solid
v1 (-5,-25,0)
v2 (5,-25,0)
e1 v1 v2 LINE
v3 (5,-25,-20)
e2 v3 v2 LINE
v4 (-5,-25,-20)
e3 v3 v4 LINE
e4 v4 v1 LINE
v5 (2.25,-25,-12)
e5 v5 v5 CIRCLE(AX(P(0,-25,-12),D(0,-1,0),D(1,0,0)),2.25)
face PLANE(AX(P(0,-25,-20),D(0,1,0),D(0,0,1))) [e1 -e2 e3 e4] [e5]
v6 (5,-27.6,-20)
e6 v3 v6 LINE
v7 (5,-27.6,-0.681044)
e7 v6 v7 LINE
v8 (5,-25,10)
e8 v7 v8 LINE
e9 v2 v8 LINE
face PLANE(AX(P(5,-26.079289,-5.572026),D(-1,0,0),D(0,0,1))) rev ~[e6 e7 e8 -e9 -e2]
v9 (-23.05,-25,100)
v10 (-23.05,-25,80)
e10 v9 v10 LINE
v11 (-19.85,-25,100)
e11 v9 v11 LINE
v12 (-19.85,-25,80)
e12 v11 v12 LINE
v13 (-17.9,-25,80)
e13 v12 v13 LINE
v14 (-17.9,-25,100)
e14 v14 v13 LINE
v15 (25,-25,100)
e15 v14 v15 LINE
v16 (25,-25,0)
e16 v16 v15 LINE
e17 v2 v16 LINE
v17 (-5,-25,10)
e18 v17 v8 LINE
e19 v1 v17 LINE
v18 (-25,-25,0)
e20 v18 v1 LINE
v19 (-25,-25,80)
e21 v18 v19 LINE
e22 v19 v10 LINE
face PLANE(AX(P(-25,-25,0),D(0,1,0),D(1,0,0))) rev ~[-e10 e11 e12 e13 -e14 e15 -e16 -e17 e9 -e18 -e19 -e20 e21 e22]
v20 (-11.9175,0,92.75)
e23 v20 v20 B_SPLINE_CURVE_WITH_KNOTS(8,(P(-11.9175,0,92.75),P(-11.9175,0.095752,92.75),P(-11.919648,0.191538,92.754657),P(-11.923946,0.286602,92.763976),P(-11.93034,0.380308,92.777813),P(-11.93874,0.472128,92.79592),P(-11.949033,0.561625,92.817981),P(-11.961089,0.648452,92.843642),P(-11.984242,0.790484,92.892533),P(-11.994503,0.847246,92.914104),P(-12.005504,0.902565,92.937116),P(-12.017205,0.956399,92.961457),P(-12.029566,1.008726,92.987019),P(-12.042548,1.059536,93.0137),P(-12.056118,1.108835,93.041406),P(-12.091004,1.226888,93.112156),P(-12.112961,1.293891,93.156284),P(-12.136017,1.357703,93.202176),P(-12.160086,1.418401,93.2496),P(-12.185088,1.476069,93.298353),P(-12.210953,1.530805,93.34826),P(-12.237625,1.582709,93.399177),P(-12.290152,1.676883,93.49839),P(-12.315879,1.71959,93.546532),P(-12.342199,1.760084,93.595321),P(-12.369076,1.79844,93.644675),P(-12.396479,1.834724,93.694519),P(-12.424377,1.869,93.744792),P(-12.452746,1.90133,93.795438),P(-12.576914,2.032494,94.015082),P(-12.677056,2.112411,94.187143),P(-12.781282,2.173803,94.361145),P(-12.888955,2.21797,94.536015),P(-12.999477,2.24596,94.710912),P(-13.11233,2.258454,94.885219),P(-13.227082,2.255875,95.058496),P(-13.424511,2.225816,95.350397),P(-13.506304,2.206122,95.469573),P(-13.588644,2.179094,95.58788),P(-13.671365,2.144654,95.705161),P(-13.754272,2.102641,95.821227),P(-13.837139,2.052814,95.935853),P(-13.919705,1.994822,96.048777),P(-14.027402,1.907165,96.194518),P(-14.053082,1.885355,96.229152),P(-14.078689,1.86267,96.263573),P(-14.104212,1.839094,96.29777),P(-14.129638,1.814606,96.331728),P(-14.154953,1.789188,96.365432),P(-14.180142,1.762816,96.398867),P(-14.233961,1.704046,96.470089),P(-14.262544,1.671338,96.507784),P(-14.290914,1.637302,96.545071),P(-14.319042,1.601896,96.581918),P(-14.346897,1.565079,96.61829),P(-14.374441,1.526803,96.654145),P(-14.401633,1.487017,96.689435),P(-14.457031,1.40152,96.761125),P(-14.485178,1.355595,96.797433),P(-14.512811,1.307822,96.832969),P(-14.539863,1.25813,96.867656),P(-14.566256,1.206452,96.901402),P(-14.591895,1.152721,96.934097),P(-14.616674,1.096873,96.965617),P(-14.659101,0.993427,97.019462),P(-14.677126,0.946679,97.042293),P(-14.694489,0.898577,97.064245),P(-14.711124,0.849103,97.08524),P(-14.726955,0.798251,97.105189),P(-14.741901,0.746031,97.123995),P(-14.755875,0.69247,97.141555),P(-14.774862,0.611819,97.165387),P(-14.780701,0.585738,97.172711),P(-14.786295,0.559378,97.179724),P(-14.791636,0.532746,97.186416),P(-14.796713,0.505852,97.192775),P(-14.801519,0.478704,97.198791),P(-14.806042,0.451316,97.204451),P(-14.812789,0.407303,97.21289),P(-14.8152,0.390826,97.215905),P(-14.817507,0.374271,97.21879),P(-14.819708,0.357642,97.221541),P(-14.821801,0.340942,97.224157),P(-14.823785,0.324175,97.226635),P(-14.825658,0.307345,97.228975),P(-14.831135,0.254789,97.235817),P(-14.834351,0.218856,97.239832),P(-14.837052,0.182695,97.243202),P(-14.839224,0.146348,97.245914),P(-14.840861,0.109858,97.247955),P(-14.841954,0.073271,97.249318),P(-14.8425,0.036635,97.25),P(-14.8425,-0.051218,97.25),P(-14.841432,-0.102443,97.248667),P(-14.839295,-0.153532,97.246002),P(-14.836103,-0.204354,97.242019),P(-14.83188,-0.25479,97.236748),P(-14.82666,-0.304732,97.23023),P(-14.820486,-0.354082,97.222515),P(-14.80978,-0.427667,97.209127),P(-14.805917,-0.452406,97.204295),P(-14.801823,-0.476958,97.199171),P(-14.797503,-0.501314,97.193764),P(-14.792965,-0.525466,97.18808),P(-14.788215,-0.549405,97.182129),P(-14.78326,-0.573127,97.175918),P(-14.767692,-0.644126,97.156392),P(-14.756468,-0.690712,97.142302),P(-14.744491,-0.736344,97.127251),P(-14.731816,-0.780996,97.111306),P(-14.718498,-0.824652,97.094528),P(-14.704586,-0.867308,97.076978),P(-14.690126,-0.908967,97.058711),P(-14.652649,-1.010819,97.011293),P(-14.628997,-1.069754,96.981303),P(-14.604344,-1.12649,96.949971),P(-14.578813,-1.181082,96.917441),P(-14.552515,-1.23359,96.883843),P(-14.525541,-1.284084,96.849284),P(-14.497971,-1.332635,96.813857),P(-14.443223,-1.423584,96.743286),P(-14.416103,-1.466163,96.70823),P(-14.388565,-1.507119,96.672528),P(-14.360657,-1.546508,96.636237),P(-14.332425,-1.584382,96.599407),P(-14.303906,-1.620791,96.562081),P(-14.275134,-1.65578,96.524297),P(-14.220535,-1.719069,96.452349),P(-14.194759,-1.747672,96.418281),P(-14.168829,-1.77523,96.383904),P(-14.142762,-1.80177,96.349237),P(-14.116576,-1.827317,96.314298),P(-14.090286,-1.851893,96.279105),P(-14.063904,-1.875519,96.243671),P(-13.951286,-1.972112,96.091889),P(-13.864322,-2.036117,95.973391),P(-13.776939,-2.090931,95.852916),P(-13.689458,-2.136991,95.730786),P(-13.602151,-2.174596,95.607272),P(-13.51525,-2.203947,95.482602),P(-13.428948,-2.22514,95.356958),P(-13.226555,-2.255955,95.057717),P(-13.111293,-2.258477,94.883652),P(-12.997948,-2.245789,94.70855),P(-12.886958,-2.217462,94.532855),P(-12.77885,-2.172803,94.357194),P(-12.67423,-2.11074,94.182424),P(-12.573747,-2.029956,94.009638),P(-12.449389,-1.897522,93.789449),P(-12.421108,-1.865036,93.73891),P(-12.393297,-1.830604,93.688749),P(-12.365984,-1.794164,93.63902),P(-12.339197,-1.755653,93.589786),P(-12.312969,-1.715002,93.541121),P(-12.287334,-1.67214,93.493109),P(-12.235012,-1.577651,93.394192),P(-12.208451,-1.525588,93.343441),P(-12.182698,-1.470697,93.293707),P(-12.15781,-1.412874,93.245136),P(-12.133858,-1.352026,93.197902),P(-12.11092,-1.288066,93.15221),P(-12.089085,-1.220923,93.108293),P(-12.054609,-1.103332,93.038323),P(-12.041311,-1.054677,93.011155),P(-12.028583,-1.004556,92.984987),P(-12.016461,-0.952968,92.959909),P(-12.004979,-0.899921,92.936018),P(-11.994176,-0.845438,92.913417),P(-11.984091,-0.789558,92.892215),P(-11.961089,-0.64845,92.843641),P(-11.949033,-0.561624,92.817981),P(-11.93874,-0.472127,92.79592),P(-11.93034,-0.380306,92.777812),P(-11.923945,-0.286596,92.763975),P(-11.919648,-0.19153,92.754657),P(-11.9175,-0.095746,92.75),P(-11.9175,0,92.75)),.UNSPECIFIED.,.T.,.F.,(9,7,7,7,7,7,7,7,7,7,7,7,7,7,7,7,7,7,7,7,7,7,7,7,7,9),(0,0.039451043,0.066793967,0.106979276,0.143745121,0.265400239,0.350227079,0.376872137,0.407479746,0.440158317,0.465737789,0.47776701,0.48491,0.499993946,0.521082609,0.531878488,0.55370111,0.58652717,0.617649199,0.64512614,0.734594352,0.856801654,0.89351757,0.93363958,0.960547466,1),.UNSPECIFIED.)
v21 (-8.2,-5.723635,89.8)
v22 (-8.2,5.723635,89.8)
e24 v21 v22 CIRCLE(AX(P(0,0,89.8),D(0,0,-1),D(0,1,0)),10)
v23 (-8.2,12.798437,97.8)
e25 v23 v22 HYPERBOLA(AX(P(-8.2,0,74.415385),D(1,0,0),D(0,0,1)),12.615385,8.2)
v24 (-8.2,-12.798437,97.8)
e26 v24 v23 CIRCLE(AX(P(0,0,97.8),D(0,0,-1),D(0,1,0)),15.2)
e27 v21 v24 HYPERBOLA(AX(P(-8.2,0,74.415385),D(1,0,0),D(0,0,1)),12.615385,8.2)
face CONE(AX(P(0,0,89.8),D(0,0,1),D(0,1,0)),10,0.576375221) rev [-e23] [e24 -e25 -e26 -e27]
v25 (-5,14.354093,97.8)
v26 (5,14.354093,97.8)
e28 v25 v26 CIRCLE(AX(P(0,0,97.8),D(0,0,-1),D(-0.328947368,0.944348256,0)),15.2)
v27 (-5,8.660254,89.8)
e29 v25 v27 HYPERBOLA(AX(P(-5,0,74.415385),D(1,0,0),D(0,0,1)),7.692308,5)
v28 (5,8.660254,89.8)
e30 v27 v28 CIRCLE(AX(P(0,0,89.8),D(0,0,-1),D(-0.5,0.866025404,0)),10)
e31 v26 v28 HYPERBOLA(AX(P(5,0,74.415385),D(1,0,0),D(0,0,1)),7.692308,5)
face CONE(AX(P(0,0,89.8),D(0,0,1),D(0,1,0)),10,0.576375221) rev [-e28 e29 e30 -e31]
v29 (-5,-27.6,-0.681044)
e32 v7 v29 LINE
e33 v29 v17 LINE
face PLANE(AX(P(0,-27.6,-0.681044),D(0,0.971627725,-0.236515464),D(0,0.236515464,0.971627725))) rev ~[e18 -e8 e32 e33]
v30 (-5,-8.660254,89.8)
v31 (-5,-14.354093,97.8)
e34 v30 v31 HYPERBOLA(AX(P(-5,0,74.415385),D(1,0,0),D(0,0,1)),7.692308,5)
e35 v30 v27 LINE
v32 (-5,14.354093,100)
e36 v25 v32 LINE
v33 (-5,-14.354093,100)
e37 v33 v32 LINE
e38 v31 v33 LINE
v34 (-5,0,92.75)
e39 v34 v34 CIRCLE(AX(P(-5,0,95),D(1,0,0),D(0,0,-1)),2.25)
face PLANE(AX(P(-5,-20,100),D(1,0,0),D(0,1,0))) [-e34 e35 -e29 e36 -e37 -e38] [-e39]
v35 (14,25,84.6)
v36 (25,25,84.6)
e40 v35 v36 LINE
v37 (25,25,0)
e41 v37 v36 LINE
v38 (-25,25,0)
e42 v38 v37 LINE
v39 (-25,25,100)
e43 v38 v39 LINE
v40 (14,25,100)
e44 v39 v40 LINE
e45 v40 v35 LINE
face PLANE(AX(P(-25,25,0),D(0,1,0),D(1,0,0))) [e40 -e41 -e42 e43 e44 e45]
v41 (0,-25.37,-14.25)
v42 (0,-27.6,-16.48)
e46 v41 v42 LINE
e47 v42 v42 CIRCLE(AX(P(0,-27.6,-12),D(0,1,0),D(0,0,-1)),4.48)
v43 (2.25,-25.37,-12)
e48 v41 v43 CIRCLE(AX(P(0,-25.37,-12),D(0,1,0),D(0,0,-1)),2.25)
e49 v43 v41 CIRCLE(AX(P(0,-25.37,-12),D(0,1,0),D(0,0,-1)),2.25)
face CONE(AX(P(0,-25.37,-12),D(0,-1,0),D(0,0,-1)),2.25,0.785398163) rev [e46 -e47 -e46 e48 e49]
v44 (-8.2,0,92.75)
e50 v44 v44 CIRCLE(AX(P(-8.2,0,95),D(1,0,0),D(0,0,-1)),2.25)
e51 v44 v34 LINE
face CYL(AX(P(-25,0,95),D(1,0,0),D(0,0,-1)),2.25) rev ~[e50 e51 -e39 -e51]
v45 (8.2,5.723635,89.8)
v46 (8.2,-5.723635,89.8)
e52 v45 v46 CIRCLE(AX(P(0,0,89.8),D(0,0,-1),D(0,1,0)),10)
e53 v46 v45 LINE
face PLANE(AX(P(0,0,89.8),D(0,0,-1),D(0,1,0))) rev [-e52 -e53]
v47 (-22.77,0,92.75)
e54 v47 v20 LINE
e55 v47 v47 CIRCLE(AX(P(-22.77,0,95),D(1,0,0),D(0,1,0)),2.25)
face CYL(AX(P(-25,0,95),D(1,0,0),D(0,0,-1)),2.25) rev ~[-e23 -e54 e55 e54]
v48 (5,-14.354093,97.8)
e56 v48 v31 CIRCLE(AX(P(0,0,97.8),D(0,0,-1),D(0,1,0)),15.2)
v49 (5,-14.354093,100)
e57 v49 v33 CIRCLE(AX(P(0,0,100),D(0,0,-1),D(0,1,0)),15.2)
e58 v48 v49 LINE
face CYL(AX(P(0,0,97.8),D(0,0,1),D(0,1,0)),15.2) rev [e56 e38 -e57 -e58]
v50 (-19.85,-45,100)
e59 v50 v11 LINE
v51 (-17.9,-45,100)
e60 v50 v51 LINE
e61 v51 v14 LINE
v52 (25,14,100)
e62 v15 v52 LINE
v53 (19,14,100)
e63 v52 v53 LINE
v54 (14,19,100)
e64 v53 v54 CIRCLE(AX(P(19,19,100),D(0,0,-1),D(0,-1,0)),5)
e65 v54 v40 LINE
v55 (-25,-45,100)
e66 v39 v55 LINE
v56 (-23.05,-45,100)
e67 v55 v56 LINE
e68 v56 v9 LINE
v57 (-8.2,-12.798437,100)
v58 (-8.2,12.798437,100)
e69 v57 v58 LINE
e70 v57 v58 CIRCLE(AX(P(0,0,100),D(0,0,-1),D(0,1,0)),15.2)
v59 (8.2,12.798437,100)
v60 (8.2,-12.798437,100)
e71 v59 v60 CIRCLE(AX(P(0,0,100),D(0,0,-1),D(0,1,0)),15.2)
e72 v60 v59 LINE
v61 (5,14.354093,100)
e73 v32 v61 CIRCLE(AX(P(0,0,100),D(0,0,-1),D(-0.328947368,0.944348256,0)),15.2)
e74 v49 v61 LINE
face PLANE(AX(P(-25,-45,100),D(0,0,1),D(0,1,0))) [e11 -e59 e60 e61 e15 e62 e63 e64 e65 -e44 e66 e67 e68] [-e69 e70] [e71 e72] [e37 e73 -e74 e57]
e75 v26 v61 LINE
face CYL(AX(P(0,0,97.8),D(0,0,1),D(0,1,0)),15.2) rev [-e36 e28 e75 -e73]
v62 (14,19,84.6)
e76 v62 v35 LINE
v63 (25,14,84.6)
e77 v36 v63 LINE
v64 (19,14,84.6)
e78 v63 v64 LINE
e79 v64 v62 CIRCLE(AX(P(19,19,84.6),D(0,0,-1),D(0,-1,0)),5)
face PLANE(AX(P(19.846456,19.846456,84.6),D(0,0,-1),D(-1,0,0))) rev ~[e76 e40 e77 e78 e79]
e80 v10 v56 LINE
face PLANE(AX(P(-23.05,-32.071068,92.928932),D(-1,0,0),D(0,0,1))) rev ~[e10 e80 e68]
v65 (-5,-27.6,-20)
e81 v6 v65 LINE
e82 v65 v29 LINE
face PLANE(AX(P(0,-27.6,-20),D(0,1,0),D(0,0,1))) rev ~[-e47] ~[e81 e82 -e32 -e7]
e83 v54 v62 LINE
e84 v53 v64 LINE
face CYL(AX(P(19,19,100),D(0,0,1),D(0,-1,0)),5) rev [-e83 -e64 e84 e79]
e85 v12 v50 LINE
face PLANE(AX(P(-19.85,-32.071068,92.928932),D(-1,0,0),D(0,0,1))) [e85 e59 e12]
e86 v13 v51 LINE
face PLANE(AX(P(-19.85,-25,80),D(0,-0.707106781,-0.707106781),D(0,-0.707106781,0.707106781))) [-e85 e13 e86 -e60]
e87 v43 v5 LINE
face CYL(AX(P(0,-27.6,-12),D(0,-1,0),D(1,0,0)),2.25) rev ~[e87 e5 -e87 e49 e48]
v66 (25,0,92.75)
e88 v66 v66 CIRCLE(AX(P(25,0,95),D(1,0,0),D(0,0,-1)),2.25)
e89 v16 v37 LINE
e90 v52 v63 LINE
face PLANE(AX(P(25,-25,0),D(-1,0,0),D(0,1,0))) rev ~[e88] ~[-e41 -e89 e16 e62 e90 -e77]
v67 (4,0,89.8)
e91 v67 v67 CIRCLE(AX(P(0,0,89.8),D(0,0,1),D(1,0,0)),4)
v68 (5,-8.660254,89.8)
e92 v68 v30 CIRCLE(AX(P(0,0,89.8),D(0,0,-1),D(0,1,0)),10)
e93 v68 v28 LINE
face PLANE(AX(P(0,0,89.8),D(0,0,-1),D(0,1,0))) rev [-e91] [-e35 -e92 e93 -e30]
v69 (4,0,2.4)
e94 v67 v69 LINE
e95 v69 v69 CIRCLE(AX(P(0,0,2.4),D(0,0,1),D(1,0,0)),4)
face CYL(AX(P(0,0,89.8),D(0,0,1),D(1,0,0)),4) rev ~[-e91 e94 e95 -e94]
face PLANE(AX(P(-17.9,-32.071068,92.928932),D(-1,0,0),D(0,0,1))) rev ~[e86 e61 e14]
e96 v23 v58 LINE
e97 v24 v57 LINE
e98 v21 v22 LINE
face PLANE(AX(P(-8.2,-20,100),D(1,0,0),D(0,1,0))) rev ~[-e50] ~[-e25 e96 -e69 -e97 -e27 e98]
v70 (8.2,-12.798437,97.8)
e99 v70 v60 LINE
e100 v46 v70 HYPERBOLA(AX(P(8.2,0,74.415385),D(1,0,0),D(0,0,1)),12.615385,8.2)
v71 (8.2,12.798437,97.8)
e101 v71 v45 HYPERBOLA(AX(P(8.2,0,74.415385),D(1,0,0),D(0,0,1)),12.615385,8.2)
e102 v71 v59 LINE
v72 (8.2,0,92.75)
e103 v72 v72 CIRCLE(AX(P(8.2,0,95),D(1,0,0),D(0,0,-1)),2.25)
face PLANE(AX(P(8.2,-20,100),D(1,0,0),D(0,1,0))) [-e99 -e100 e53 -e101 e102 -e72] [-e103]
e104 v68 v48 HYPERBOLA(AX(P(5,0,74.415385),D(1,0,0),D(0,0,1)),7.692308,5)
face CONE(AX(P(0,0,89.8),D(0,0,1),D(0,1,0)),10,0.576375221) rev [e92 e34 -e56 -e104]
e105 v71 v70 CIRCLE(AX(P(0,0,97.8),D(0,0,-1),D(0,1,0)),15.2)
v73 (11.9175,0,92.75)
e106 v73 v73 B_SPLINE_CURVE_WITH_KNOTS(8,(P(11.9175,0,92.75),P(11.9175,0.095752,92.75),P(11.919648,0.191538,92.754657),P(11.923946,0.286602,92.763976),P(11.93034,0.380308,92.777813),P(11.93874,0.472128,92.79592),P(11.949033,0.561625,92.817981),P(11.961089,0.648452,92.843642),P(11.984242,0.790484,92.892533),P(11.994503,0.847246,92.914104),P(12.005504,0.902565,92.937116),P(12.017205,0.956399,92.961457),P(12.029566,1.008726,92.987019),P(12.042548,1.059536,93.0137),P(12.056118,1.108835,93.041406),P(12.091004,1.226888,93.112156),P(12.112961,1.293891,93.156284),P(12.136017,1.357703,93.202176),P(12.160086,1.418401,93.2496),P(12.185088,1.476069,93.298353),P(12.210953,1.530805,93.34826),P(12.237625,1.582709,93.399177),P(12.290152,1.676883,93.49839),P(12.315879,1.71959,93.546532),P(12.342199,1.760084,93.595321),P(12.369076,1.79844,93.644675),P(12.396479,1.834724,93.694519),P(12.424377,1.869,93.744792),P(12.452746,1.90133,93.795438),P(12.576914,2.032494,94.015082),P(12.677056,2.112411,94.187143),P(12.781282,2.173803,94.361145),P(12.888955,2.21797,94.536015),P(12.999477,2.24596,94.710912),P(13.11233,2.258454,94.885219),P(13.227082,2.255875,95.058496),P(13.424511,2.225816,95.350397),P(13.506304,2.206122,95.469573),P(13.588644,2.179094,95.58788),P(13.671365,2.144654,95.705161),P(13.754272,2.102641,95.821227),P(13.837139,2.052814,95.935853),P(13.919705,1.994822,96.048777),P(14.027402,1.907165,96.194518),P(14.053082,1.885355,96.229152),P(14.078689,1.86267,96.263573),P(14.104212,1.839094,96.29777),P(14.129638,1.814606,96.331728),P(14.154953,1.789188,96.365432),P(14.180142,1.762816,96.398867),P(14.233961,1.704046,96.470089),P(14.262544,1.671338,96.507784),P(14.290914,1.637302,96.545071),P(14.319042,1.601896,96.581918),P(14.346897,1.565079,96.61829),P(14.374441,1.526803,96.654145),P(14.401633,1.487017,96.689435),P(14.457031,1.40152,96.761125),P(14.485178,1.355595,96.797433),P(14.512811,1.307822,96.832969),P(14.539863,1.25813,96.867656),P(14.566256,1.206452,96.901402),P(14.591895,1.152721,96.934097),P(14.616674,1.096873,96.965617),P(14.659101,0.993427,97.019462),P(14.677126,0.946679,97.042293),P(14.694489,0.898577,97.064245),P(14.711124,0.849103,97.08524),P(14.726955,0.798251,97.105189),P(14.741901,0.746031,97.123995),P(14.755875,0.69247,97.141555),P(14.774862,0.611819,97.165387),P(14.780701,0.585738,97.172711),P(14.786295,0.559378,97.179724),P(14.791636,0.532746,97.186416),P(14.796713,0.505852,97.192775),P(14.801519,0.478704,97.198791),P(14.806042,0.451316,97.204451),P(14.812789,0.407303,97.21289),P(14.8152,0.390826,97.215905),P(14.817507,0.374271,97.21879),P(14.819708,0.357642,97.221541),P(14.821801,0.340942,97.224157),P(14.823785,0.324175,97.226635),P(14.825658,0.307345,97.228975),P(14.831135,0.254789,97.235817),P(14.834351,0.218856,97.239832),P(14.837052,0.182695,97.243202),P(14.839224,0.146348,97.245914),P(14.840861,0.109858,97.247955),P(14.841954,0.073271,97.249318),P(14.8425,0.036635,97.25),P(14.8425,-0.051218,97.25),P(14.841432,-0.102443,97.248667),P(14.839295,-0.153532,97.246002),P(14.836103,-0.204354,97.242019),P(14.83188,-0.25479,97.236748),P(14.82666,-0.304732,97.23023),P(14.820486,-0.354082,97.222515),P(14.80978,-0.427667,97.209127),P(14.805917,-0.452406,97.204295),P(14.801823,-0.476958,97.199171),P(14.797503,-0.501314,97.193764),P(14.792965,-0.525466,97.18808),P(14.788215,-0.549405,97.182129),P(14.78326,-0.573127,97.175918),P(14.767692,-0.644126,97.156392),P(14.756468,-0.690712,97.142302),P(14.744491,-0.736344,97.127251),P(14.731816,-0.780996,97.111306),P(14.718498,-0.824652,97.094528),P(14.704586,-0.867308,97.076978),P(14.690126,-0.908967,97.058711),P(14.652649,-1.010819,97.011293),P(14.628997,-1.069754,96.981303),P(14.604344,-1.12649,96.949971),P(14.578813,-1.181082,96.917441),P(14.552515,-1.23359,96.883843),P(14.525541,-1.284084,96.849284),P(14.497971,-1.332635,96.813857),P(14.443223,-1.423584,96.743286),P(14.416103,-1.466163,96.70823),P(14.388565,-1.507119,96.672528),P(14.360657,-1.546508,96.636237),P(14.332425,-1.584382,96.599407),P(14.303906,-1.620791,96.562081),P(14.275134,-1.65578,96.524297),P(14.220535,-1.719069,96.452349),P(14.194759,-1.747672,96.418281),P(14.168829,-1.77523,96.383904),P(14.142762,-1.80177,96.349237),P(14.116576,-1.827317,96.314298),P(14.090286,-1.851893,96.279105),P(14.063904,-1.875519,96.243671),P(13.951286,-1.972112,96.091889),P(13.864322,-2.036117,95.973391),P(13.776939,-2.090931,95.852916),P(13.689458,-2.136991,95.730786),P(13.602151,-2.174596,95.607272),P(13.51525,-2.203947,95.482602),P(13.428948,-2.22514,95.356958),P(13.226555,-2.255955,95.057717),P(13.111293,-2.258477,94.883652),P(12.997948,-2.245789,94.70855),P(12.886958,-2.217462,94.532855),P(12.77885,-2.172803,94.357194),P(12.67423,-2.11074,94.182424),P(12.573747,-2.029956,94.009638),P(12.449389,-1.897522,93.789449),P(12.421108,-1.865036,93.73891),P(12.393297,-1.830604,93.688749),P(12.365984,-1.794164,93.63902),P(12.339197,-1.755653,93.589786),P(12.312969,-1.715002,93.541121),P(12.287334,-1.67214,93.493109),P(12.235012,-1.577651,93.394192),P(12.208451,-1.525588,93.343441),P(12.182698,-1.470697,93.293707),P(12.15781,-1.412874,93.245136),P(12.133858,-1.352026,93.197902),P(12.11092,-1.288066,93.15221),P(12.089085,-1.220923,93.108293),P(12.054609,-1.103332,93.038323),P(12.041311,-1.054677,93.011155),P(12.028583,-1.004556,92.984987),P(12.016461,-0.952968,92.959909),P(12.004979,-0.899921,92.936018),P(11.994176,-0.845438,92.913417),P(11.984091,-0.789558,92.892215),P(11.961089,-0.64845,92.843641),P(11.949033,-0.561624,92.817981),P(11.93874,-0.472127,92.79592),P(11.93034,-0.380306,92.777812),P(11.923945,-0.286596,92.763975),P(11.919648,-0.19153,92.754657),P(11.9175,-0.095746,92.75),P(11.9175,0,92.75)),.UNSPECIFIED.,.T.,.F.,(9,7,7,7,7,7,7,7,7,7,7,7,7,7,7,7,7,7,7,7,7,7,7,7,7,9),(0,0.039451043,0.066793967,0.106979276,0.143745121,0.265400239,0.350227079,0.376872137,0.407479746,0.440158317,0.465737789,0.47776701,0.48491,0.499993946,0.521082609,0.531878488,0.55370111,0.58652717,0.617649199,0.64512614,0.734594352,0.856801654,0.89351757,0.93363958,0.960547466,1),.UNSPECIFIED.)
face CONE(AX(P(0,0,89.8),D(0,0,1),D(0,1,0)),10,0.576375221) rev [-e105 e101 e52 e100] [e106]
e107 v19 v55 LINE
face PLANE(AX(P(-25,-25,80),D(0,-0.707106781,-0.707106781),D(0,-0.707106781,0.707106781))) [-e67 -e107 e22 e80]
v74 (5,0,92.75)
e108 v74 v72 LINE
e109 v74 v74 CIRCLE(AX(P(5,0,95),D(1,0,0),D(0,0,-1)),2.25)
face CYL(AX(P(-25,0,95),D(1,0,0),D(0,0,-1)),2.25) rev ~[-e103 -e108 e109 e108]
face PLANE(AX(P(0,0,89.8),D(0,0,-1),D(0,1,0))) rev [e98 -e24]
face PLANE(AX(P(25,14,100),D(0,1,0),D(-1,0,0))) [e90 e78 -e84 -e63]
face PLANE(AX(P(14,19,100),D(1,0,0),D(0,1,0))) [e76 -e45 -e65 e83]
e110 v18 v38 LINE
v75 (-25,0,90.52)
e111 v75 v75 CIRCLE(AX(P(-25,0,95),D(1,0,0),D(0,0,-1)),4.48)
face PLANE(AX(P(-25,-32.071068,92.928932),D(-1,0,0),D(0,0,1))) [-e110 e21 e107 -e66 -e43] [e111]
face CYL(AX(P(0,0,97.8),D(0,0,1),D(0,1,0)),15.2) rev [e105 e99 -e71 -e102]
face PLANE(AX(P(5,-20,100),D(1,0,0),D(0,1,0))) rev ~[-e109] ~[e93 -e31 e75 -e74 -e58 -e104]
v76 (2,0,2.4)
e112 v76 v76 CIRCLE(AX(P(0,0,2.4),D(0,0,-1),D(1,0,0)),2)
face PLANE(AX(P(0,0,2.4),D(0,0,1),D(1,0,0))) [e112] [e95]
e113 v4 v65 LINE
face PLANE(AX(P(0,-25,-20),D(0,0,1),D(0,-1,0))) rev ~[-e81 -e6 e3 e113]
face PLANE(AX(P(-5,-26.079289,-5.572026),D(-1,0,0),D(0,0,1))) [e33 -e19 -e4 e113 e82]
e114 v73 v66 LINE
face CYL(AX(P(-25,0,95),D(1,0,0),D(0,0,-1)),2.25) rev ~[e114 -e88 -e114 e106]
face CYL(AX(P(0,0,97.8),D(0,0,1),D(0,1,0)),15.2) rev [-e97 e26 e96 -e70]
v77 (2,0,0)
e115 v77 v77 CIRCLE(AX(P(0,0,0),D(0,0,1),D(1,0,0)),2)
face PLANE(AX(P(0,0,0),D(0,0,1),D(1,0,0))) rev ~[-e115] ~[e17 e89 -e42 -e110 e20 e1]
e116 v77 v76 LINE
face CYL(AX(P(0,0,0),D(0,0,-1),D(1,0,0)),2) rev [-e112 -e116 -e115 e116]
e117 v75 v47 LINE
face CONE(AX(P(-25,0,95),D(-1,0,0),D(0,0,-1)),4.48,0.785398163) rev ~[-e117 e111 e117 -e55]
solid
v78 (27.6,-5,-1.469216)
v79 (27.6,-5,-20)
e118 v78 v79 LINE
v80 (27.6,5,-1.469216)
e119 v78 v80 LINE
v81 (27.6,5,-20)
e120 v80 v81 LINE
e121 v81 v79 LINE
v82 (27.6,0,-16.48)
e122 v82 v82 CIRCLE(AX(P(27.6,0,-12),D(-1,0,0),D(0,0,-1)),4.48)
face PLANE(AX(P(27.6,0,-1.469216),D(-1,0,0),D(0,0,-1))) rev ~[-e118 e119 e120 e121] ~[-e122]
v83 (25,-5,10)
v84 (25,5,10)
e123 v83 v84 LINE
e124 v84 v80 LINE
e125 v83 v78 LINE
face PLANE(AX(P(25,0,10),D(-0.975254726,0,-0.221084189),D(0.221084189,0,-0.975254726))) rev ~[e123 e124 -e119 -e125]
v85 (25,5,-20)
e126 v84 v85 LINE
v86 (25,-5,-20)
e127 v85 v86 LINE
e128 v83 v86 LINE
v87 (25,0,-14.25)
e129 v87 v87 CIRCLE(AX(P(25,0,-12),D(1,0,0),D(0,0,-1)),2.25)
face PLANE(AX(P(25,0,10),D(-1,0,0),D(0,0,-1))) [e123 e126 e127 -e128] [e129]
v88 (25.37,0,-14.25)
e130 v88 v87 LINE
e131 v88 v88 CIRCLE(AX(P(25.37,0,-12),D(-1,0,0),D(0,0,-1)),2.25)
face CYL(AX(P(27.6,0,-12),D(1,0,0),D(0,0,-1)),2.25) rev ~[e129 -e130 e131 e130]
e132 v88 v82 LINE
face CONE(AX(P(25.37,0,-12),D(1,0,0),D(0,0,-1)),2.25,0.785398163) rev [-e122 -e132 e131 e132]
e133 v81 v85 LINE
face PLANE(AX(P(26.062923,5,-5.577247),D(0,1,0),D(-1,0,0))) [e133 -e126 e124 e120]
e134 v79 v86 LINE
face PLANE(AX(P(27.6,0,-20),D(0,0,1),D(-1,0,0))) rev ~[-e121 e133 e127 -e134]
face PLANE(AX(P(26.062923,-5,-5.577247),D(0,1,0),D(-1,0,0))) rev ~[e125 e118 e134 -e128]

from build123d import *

# Parameters (mm, degrees)
CROQUIS1_W                                           = 50
CROQUIS1_H                                           = 50
CROQUIS1_R                                           = 2
SALIENTE_EXTRUIR2_DEPTH                              = 100
CROQUIS4_W                                           = 3.2
CROQUIS4_H                                           = 40
SALIENTE_EXTRUIR5_DEPTH                              = 10.2
CROQUIS8_R                                           = 4
CORTAR_EXTRUIR3_DEPTH                                = 87.4
CORTAR_EXTRUIR2_START                                = -50
CROQUIS7_R                                           = 2
CORTAR_EXTRUIR2_DEPTH                                = 50
REFRENTADO_PARA_TORNILLO_TAP_N_CON_CABEZ_D           = 4.5
REFRENTADO_PARA_TORNILLO_TAP_N_CON_CABEZ_CSINK_D     = 8.96
REFRENTADO_PARA_TORNILLO_TAP_N_CON_CABEZ_CSINK_ANGLE = 90
SALIENTE_EXTRUIR6_DEPTH                              = 1.95
SALIENTE_EXTRUIR7_START                              = -5.15
SALIENTE_EXTRUIR7_DEPTH                              = 1.95
CORTAR_EXTRUIR4_DEPTH                                = 15.4
SALIENTE_EXTRUIR8_START                              = -25
SALIENTE_EXTRUIR8_DEPTH                              = 5
SALIENTE_EXTRUIR8_DEPTH_BACK                         = 5
CROQUIS15_R                                          = 2.25
CORTAR_EXTRUIR5_DEPTH                                = 2.6
SALIENTE_EXTRUIR9_START                              = -25
SALIENTE_EXTRUIR9_DEPTH                              = 5
SALIENTE_EXTRUIR9_DEPTH_BACK                         = 5
CROQUIS19_R                                          = 2.25
CORTAR_EXTRUIR6_DEPTH                                = 2.6


with BuildPart() as part:
    # Croquis1 → Saliente-Extruir2 (new body)
    with BuildSketch(Plane.XY):
        Rectangle(CROQUIS1_W, CROQUIS1_H)
        Circle(CROQUIS1_R, mode=Mode.SUBTRACT)
    extrude(amount=SALIENTE_EXTRUIR2_DEPTH)

    # Croquis2 → Cortar-Revolución1 (revolve, cut)
    with BuildSketch(Plane(origin=(0, 0, 0), x_dir=(0, 0, -1), z_dir=(1, 0, 0))):
        Polygon((-100, 15.2), (-100, 0), (-89.8, 0), (-89.8, 10), (-97.8, 15.2), align=None)
    revolve(axis=Axis((0, 0, 100), (0, 0, -1)), mode=Mode.SUBTRACT)

    # Croquis4 → Saliente-Extruir5 (add)
    with BuildSketch(Plane.XY.offset(100)):
        with Locations((-6.6, 0)):
            Rectangle(CROQUIS4_W, CROQUIS4_H)
        with Locations((6.6, 0)):
            Rectangle(CROQUIS4_W, CROQUIS4_H)
    extrude(amount=-SALIENTE_EXTRUIR5_DEPTH)

    # Croquis8 → Cortar-Extruir3 (cut)
    with BuildSketch(Plane.XY.offset(89.8)):
        Circle(CROQUIS8_R)
    extrude(amount=-CORTAR_EXTRUIR3_DEPTH, mode=Mode.SUBTRACT)

    # Croquis7 → Cortar-Extruir2 (cut)
    with BuildSketch(Plane.ZY.offset(25).offset(CORTAR_EXTRUIR2_START)):
        with Locations((95, 0)):
            Circle(CROQUIS7_R)
    extrude(amount=CORTAR_EXTRUIR2_DEPTH, mode=Mode.SUBTRACT)

    # Refrentado para tornillo tap_n con cabez (through all)
    with Locations(Plane.ZY.offset(25)):
        with Locations((95, 0)):
            CounterSinkHole(REFRENTADO_PARA_TORNILLO_TAP_N_CON_CABEZ_D / 2, REFRENTADO_PARA_TORNILLO_TAP_N_CON_CABEZ_CSINK_D / 2, counter_sink_angle=REFRENTADO_PARA_TORNILLO_TAP_N_CON_CABEZ_CSINK_ANGLE)

    # Croquis12 → Saliente-Extruir6 (add)
    with BuildSketch(Plane.ZY.offset(25)):
        Polygon((100, -25), (80, -25), (100, -45), align=None)
    extrude(amount=-SALIENTE_EXTRUIR6_DEPTH)

    # Croquis12<2> → Saliente-Extruir7 (add)
    with BuildSketch(Plane.ZY.offset(25).offset(SALIENTE_EXTRUIR7_START)):
        Polygon((100, -25), (80, -25), (100, -45), align=None)
    extrude(amount=-SALIENTE_EXTRUIR7_DEPTH)

    # Croquis13 → Cortar-Extruir4 (cut)
    with BuildSketch(Plane.XY.offset(100)):
        with BuildLine():
            Line((25, 25), (25, 14))
            Line((25, 14), (19, 14))
            ThreePointArc((19, 14), (15.464466094, 15.464466094), (14, 19))
            Line((14, 19), (14, 25))
            Line((14, 25), (25, 25))
        make_face()
    extrude(amount=-CORTAR_EXTRUIR4_DEPTH, mode=Mode.SUBTRACT)

    # Croquis18 → Saliente-Extruir9 (add, two sides)
    with BuildSketch(Plane(origin=(25, 0, 0), x_dir=(0, 0, -1), z_dir=(1, 0, 0)).offset(SALIENTE_EXTRUIR9_START)) as saliente_extruir9_sk:
        Polygon((0, -25), (20, -25), (20, -27.6), (0.681044045, -27.6), (-10, -25), align=None)
    extrude(amount=SALIENTE_EXTRUIR9_DEPTH)
    extrude(saliente_extruir9_sk.sketch, amount=-SALIENTE_EXTRUIR9_DEPTH_BACK)

    # Croquis19 → Cortar-Extruir6 (cut)
    with BuildSketch(Plane.XZ.offset(27.6)):
        with Locations((0, -12)):
            Circle(CROQUIS19_R)
    extrude(amount=-CORTAR_EXTRUIR6_DEPTH, mode=Mode.SUBTRACT)

    # Croquis21 → Refrentado para tornillo tap_n con c 3 (revolve, cut)
    with BuildSketch(Plane(origin=(0, -27.6, -12), x_dir=(0, 0, -1), z_dir=(1, 0, 0))):
        Polygon((0, 0), (0, 52.6), (2.25, 52.6), (2.25, 2.23), (4.48, 0), align=None)
    revolve(axis=Axis((0, -33.95, -12), (0, 1, 0)), mode=Mode.SUBTRACT)


with BuildPart() as body_2:
    # Croquis14 → Saliente-Extruir8 (new body, two sides)
    with BuildSketch(Plane.XZ.offset(25).offset(SALIENTE_EXTRUIR8_START)) as saliente_extruir8_sk:
        Polygon((25, 0), (25, 10), (27.6, -1.469215888), (27.6, -20), (25, -20), align=None)
    extrude(amount=SALIENTE_EXTRUIR8_DEPTH)
    extrude(saliente_extruir8_sk.sketch, amount=-SALIENTE_EXTRUIR8_DEPTH_BACK)

    # Croquis15 → Cortar-Extruir5 (cut)
    with BuildSketch(Plane(origin=(27.6, 0, 0), x_dir=(0, 0, -1), z_dir=(1, 0, 0))):
        with Locations((12, 0)):
            Circle(CROQUIS15_R)
    extrude(amount=-CORTAR_EXTRUIR5_DEPTH, mode=Mode.SUBTRACT)

    # Croquis17 → Refrentado para tornillo tap_n con c 2 (revolve, cut)
    with BuildSketch(Plane(origin=(27.6, 0, -12), x_dir=(0, 0, -1), z_dir=(0, 1, 0))):
        Polygon((0, 0), (0, 52.6), (2.25, 52.6), (2.25, 2.23), (4.48, 0), align=None)
    revolve(axis=Axis((33.95, 0, -12), (-1, 0, 0)), mode=Mode.SUBTRACT)


solid = Compound([part.part, body_2.part])
